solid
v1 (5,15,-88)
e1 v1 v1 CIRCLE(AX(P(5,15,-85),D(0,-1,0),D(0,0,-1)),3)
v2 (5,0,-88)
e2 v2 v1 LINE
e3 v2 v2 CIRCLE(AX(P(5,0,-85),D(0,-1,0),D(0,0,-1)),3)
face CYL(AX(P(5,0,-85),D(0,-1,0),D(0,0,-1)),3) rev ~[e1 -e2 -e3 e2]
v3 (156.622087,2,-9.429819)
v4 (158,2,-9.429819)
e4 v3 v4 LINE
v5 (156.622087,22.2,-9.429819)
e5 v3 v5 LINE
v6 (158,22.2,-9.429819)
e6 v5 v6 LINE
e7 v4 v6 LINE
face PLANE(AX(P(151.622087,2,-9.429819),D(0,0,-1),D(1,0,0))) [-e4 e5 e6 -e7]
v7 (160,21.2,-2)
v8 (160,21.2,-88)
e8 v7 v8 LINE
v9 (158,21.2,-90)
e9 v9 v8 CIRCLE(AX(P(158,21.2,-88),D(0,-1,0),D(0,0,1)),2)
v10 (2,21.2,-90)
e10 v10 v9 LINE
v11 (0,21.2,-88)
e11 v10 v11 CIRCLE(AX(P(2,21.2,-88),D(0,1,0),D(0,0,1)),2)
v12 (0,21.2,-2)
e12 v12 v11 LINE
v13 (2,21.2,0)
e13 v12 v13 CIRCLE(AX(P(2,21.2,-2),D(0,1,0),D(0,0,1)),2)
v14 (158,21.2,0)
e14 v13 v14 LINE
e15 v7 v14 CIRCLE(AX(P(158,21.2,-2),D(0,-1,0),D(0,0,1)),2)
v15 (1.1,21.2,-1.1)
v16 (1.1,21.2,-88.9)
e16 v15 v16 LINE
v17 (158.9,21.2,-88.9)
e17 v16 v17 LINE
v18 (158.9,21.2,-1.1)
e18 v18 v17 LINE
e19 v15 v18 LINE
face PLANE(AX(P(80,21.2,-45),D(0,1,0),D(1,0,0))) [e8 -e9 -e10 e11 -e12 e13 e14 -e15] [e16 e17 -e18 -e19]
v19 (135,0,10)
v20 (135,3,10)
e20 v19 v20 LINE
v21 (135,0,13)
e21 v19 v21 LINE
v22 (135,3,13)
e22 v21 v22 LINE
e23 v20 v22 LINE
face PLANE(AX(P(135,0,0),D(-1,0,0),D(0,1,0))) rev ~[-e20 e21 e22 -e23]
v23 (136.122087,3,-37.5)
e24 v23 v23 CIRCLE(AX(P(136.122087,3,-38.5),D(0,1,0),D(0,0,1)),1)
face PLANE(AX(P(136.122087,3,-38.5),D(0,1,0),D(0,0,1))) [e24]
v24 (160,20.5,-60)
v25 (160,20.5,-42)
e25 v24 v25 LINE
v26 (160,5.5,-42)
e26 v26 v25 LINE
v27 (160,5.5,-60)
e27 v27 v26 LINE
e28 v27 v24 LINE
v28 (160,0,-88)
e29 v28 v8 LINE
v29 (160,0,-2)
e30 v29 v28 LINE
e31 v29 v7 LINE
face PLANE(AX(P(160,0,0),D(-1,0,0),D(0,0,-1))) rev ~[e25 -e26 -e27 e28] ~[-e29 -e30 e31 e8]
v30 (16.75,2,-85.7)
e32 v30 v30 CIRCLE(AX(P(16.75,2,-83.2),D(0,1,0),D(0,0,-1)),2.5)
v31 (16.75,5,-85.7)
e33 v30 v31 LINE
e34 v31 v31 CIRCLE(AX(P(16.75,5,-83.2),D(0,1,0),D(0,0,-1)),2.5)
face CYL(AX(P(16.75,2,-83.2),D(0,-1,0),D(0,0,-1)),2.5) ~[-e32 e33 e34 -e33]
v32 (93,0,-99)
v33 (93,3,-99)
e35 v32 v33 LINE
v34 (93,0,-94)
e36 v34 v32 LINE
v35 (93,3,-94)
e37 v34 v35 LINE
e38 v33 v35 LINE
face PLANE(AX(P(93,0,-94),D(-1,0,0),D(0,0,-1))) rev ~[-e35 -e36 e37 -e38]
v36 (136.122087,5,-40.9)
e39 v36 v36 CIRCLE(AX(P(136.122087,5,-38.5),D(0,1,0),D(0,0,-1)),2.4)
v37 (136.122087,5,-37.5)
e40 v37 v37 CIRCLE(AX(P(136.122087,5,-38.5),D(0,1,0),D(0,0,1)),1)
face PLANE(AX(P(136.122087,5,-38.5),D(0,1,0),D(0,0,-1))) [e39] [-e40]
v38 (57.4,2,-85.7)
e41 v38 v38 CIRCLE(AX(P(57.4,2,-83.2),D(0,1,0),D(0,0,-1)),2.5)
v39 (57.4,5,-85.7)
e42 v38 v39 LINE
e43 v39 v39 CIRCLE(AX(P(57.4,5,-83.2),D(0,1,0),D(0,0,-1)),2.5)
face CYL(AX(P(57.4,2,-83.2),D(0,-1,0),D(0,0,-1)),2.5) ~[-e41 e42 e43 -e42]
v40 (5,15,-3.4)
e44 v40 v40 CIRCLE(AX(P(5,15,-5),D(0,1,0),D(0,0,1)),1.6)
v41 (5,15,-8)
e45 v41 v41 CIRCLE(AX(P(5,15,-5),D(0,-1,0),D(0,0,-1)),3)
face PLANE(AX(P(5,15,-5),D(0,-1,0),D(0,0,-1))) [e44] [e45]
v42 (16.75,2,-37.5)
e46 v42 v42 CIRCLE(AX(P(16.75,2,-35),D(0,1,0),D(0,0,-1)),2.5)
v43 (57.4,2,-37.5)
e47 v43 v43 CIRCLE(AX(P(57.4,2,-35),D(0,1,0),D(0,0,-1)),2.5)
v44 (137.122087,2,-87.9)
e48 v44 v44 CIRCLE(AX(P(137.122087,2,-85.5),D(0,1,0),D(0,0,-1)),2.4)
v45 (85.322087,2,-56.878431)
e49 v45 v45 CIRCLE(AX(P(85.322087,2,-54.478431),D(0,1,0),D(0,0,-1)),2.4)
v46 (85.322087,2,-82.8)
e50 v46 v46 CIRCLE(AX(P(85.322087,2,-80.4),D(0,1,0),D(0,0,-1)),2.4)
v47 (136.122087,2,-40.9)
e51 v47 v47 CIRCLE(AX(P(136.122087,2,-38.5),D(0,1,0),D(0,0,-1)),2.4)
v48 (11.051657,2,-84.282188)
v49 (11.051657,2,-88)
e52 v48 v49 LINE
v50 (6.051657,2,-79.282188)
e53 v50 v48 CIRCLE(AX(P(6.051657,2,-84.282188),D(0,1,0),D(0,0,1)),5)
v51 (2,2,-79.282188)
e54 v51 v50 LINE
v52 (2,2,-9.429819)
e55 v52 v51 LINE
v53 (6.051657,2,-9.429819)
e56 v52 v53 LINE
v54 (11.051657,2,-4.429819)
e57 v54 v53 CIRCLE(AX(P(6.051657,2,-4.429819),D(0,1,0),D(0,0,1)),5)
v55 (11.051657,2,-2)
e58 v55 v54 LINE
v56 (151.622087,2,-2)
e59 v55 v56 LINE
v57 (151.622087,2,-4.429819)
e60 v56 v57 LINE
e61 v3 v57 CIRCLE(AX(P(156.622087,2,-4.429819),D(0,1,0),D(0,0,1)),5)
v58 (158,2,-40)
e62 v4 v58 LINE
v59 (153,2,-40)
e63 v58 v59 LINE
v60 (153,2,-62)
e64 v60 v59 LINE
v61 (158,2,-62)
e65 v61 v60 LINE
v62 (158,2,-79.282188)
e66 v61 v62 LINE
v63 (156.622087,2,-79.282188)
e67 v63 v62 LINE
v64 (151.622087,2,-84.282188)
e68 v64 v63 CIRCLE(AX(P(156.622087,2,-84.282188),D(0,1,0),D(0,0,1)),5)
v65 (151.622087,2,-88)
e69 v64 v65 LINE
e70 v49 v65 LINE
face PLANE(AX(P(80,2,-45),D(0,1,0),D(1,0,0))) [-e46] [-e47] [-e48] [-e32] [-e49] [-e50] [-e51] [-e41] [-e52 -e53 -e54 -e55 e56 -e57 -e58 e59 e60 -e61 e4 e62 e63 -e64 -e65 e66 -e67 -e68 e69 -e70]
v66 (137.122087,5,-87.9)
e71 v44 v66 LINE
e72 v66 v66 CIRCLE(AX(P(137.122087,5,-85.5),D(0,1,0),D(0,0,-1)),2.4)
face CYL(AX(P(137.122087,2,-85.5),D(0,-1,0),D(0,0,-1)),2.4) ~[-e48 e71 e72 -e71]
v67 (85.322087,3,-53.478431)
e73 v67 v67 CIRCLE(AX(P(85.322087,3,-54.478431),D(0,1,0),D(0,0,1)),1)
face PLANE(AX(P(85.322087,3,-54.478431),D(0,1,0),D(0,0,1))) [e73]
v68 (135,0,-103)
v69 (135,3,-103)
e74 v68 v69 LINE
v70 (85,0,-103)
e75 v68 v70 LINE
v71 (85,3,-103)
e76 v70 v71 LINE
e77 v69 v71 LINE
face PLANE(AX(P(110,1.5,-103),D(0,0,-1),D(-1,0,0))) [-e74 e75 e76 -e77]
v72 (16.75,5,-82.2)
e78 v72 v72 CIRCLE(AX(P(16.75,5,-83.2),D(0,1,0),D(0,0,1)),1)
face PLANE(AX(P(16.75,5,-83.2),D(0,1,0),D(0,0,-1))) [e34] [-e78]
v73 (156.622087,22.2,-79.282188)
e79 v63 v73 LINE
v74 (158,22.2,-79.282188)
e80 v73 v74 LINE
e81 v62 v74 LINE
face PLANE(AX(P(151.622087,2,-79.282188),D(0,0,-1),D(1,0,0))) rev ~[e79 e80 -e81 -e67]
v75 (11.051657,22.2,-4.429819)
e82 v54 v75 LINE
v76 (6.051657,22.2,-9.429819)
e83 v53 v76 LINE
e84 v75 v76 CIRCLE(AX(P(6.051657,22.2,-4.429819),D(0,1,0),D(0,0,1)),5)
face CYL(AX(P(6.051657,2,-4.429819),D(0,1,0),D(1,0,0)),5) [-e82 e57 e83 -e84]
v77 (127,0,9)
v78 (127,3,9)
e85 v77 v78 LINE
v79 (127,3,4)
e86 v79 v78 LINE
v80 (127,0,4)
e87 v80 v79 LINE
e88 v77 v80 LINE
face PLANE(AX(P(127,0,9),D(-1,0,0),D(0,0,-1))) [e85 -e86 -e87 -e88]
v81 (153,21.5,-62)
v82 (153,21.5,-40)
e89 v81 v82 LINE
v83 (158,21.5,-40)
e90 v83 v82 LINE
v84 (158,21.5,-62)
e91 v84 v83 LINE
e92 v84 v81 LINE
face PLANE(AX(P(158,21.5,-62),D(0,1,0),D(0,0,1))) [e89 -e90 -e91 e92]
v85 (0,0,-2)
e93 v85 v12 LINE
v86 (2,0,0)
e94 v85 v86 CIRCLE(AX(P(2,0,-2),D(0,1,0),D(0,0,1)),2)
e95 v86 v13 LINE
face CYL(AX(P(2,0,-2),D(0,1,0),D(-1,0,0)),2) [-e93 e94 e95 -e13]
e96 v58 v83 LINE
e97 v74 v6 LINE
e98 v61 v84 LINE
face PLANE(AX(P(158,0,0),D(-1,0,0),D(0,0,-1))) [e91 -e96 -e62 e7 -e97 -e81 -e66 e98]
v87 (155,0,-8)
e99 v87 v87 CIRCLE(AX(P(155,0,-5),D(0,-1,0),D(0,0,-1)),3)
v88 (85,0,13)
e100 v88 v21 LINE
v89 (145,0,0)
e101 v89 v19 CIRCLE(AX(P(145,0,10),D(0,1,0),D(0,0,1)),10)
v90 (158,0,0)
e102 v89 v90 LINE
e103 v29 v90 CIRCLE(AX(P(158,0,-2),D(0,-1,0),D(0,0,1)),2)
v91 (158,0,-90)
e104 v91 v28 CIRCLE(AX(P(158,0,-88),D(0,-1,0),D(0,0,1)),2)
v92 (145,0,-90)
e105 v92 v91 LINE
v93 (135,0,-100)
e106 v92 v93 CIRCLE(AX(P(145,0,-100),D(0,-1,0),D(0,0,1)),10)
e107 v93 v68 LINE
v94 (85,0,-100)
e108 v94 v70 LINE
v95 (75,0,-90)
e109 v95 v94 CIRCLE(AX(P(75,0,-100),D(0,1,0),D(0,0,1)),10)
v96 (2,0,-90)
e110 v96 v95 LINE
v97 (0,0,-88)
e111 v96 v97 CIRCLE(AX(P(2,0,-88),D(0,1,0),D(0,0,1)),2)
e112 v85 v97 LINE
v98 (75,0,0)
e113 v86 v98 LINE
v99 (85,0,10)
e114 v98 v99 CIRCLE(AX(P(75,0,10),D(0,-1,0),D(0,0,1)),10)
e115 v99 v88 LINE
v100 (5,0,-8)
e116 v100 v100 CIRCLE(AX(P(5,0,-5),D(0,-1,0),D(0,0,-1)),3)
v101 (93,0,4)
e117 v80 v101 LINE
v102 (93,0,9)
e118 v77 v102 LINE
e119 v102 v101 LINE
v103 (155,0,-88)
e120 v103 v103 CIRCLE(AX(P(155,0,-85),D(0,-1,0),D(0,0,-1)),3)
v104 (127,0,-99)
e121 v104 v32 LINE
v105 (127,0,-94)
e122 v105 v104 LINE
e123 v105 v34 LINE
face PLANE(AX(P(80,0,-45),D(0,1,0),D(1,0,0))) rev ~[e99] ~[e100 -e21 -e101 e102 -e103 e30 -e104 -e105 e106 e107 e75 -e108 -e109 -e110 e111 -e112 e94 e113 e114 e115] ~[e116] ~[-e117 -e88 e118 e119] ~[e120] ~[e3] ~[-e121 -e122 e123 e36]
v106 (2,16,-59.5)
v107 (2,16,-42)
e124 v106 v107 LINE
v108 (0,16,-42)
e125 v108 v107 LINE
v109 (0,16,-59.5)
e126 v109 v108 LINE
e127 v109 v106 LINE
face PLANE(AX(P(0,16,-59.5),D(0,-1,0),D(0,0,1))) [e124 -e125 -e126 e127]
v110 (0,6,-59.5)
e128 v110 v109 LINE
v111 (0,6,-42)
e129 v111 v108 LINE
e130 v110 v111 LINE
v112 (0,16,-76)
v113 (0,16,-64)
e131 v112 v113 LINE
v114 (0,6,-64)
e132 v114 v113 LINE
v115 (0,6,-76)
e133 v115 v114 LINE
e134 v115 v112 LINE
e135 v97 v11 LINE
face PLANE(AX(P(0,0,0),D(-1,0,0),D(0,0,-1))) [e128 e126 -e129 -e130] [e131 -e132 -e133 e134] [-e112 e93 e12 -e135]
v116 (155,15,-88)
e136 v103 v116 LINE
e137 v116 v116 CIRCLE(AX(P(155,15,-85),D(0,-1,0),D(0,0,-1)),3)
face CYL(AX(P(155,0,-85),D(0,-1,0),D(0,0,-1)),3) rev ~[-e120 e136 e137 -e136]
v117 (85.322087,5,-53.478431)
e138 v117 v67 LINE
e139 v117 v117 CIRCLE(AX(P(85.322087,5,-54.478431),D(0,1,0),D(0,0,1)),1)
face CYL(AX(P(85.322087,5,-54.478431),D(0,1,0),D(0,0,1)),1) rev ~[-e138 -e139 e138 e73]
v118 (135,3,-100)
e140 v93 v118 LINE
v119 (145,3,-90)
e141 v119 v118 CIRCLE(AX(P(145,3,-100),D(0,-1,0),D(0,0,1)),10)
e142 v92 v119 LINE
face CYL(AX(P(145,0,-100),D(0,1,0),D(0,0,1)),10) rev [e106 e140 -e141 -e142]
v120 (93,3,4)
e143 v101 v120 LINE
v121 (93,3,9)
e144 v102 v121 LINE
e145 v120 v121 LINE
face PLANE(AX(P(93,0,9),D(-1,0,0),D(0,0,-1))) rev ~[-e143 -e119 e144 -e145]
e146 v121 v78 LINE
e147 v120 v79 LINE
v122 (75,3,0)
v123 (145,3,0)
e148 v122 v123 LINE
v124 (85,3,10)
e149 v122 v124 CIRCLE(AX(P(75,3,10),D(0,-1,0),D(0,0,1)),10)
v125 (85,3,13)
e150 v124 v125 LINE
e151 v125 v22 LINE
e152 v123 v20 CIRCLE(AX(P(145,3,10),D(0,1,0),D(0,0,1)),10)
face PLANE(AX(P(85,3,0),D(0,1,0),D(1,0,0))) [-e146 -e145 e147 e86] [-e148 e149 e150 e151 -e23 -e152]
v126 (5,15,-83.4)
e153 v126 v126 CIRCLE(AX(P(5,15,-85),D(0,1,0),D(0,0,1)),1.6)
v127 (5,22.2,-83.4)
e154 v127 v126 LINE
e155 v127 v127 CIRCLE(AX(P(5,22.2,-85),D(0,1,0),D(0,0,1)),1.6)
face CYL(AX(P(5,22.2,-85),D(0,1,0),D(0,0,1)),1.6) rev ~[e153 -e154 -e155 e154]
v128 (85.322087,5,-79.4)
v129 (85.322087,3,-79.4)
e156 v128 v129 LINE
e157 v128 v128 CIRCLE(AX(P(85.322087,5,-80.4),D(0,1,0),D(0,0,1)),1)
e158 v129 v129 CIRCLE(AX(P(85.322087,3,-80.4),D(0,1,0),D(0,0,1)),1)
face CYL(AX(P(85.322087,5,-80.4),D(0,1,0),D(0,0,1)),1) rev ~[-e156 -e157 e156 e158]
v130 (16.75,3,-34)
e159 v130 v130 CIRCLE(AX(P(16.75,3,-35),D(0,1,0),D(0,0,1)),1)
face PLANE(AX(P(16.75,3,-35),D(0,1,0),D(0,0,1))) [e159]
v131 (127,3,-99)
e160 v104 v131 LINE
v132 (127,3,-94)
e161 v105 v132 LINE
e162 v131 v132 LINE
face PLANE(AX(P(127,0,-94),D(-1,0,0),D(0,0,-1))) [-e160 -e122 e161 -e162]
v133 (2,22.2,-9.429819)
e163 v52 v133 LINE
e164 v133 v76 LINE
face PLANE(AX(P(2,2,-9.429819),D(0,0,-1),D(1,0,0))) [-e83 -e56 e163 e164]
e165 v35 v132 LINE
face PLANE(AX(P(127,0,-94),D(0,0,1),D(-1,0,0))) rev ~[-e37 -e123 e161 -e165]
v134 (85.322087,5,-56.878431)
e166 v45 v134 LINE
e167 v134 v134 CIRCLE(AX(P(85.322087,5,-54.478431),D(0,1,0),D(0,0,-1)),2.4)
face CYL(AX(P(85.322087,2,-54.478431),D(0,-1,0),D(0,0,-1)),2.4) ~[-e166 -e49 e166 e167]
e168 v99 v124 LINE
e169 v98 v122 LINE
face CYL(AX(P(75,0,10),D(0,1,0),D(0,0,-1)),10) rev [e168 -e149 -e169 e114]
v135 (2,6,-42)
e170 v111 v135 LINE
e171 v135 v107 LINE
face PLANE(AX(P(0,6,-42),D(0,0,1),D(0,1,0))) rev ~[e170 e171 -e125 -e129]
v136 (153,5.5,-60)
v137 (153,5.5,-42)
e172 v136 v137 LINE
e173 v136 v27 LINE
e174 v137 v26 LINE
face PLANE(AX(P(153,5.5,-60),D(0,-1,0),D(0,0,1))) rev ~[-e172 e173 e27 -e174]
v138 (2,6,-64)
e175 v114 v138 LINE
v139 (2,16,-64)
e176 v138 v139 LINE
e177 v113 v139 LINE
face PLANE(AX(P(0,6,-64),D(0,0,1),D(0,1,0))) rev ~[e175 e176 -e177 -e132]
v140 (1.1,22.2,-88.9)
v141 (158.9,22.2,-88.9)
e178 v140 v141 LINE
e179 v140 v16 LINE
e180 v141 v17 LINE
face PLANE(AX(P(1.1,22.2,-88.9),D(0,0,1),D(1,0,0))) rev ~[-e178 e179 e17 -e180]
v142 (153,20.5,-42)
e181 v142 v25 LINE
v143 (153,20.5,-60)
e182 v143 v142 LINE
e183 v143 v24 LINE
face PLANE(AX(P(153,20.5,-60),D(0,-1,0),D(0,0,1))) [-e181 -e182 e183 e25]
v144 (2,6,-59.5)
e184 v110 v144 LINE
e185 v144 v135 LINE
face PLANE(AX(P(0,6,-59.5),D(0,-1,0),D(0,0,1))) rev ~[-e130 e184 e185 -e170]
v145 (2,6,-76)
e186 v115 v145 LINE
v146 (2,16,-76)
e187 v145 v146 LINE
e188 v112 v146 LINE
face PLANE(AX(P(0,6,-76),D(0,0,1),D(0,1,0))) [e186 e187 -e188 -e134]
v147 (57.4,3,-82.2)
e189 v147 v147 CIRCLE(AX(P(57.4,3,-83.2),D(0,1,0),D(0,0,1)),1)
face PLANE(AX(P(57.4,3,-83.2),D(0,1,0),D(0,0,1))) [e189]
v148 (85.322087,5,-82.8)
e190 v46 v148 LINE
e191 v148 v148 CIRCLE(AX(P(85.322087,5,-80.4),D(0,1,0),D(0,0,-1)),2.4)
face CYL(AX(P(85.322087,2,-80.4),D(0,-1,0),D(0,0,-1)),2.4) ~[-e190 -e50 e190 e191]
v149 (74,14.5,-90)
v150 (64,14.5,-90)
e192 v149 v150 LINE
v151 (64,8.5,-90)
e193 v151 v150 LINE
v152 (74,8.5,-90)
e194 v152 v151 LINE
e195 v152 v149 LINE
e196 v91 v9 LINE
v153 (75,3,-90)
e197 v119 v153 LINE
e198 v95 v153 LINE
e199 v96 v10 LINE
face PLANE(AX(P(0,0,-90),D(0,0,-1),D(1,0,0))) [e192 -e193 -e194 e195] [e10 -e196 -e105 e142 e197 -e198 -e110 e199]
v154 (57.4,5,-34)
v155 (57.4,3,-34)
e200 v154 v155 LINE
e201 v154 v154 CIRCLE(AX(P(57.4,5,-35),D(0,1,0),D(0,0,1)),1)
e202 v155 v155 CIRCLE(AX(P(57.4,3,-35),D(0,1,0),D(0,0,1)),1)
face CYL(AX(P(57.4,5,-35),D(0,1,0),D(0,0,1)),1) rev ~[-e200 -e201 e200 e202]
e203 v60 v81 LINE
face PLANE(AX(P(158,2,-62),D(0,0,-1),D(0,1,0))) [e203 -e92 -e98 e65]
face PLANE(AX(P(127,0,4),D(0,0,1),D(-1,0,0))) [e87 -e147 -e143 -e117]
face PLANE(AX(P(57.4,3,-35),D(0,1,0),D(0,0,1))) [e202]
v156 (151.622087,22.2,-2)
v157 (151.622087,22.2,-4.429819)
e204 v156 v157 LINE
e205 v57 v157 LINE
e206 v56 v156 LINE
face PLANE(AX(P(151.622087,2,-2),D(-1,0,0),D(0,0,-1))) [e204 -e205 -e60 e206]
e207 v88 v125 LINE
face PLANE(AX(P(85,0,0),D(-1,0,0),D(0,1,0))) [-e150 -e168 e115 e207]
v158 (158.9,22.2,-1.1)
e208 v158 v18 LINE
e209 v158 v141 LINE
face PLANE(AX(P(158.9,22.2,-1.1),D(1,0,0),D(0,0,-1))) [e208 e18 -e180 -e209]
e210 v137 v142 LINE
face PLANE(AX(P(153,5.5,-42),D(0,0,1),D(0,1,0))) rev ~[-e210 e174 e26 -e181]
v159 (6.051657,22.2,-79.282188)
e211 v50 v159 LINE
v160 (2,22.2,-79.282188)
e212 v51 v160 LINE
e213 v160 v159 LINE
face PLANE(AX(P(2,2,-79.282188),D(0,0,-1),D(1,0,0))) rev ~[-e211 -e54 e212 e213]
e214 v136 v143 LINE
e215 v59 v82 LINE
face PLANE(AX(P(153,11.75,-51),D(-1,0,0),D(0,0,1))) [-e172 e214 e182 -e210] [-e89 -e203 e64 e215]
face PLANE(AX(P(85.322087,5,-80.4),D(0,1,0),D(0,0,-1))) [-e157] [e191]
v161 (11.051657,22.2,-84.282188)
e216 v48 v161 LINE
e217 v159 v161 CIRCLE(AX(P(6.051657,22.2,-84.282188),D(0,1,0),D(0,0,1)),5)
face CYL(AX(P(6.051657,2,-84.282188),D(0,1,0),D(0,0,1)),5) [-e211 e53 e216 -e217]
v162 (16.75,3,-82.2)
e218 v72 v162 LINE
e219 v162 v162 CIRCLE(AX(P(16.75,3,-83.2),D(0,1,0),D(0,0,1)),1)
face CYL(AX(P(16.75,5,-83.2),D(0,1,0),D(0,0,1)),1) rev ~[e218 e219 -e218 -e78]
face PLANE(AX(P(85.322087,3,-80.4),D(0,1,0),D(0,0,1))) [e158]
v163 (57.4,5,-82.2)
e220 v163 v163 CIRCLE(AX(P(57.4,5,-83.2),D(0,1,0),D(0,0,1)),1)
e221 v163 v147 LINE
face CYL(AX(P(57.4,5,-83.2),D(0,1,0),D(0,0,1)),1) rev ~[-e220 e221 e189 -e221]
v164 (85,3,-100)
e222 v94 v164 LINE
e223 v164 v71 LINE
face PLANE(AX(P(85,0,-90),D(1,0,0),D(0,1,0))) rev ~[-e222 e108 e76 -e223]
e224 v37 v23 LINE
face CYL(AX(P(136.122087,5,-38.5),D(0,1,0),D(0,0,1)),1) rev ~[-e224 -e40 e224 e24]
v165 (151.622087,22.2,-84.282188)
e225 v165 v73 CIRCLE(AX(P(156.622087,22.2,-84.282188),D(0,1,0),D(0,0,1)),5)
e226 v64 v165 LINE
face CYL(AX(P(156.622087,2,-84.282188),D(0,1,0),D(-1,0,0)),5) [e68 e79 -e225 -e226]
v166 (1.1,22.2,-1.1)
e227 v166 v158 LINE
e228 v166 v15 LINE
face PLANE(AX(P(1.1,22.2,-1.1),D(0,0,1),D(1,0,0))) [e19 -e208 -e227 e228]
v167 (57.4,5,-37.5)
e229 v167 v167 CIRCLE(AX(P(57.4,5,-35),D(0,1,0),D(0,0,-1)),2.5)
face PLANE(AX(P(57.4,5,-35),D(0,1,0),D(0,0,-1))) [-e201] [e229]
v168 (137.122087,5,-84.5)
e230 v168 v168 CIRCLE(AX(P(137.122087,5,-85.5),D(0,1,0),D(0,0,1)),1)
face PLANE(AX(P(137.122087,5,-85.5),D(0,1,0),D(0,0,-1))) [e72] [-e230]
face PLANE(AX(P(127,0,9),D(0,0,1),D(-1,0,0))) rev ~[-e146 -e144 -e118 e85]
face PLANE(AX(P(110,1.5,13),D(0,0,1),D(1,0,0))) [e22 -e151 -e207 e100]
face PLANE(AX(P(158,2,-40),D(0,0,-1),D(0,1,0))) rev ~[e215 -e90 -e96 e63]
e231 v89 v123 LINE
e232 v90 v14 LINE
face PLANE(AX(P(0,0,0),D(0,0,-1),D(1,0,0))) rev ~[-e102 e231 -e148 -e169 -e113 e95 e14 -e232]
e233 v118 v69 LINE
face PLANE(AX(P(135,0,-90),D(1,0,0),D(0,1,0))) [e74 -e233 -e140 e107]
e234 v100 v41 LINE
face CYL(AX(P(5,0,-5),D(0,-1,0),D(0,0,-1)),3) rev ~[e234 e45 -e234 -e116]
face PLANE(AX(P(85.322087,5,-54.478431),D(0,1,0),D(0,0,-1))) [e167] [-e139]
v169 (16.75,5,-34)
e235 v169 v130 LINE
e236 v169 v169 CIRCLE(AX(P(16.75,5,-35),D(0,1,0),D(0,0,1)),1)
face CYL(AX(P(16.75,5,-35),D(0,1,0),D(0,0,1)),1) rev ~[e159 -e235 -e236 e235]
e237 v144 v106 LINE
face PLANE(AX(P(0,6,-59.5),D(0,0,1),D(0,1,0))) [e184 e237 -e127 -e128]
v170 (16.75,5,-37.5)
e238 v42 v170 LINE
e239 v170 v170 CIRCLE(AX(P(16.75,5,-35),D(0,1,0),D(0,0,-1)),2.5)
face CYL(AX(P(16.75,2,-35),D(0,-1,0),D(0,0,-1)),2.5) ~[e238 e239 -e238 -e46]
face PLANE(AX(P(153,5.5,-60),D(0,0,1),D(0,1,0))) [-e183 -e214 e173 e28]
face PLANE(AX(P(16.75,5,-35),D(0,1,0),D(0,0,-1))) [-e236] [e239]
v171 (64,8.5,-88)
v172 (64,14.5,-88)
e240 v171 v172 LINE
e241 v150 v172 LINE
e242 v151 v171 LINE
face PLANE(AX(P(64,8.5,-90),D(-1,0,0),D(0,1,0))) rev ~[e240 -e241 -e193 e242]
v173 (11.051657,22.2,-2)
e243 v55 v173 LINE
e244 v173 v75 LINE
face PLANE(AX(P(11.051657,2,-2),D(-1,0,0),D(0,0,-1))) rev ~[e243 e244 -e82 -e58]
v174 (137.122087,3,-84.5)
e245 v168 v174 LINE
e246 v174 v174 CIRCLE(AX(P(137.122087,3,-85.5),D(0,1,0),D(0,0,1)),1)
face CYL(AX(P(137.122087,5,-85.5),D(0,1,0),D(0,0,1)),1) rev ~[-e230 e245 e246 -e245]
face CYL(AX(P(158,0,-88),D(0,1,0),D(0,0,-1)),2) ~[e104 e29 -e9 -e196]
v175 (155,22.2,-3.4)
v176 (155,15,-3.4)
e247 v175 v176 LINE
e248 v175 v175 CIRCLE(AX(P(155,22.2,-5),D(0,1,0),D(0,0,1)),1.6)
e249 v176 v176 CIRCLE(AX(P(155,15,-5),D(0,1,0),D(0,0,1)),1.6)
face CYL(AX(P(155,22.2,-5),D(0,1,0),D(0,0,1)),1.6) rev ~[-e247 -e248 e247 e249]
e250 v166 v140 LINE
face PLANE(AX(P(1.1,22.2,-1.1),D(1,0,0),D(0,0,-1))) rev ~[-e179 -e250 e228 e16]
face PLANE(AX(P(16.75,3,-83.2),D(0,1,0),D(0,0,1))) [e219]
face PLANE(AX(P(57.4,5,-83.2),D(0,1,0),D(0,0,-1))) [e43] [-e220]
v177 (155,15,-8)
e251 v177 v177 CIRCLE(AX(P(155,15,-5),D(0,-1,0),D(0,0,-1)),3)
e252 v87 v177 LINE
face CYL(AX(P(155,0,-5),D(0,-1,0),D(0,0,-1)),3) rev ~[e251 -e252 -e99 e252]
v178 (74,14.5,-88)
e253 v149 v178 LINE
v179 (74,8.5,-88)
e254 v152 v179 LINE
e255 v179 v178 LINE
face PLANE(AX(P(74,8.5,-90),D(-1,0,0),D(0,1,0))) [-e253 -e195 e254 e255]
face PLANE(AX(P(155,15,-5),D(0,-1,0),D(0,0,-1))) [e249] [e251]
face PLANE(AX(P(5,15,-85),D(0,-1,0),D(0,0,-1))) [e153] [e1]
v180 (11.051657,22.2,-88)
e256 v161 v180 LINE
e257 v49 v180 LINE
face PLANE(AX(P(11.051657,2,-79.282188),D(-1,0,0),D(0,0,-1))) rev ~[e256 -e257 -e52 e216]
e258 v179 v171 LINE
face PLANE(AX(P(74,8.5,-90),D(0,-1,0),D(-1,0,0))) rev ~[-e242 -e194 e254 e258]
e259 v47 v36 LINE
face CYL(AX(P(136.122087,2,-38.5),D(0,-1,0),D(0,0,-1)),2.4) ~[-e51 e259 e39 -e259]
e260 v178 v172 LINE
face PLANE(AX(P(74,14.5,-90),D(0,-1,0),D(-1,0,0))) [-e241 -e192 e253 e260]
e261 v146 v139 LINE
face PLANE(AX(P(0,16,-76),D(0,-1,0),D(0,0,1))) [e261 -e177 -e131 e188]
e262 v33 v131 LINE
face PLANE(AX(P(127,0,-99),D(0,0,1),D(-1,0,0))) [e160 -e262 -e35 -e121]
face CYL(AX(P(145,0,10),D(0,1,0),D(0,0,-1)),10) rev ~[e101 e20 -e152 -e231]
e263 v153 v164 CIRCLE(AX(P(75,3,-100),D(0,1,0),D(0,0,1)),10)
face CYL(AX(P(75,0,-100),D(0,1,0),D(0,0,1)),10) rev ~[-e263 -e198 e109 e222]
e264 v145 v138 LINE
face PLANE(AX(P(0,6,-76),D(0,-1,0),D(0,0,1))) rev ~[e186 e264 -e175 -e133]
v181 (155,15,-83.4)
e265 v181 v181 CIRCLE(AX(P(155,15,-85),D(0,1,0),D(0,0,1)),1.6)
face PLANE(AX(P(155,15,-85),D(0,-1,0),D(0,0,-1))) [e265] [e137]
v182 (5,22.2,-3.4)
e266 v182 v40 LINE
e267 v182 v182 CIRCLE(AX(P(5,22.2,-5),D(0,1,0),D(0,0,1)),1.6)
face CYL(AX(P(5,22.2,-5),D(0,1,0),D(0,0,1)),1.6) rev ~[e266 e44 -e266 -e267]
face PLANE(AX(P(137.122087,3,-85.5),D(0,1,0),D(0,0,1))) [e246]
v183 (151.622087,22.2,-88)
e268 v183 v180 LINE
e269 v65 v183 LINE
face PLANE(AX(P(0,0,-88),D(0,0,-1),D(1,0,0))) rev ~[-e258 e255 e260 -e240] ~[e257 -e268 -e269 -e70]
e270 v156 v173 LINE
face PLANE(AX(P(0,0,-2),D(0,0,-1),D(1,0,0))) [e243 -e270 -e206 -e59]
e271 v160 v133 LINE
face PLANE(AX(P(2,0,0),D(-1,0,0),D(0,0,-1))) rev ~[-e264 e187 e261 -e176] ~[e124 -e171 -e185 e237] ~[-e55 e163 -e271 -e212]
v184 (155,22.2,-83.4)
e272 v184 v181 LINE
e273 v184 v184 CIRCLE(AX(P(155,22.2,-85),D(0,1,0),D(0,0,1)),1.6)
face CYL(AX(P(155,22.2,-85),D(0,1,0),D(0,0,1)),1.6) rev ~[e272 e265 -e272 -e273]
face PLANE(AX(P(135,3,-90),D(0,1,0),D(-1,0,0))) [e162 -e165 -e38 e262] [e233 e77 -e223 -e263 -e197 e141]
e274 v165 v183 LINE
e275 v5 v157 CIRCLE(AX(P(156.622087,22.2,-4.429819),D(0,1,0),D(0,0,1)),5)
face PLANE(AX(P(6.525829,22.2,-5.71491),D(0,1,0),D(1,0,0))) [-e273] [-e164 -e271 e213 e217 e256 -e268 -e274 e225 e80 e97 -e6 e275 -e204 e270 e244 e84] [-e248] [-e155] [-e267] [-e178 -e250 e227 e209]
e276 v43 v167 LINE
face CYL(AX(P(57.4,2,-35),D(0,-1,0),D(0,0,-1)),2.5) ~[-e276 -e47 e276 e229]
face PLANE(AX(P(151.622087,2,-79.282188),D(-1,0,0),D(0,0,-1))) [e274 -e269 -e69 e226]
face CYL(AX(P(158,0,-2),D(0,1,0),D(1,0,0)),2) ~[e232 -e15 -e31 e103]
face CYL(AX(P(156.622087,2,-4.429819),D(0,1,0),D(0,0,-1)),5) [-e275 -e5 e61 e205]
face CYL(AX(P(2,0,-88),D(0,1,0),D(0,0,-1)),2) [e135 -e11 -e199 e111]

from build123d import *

# Parameters (mm, degrees)
SKETCH1_W           = 160
SKETCH1_H           = 90
BOSS_EXTRUDE1_DEPTH = 22.2
SHELL1_T            = -2
SKETCH2_W           = 9.051657133
SKETCH2_H           = 7.429819316
SKETCH2_W_2         = 6.377912523
SKETCH2_H_2         = 8.717812211
BOSS_EXTRUDE2_DEPTH = 20.2
SKETCH5_W           = 160
SKETCH5_H           = 90
SKETCH5_W_2         = 157.8
SKETCH5_H_2         = 87.8
CUT_EXTRUDE2_DEPTH  = 1
SKETCH6_R           = 1.6
CUT_EXTRUDE3_DEPTH  = 25
SKETCH13_R          = 3
CUT_EXTRUDE8_DEPTH  = 15
SKETCH14_W          = 50
SKETCH14_H          = 3
BOSS_EXTRUDE4_DEPTH = 13
SKETCH15_W          = 34
SKETCH15_H          = 5
CUT_EXTRUDE9_DEPTH  = 10
SKETCH16_W          = 50
SKETCH16_H          = 3
BOSS_EXTRUDE5_DEPTH = 13
SKETCH17_W          = 34
SKETCH17_H          = 5
CUT_EXTRUDE10_DEPTH = 10
SKETCH22_W          = 12
SKETCH22_H          = 10
SKETCH22_W_2        = 17.5
CUT_EXTRUDE15_DEPTH = 10
SKETCH23_W          = 10
SKETCH23_H          = 6
CUT_EXTRUDE16_DEPTH = 10
FILLET1_R           = 10
FILLET4_R           = 5
FILLET9_R           = 2
SKETCH26_R          = 2.5
SKETCH26_R_2        = 2.4
BOSS_EXTRUDE7_DEPTH = 3
SKETCH27_R          = 1
CUT_EXTRUDE17_DEPTH = 2
SKETCH28_W          = 22
SKETCH28_H          = 19.5
BOSS_EXTRUDE8_DEPTH = 5
SKETCH29_W          = 18
SKETCH29_H          = 15
CUT_EXTRUDE18_DEPTH = 17


with BuildPart() as part:
    # Sketch1 → Boss-Extrude1 (new body)
    with BuildSketch(Plane(origin=(0, 0, 0), x_dir=(1, 0, 0), z_dir=(0, 1, 0))):
        with Locations((80, 45)):
            Rectangle(SKETCH1_W, SKETCH1_H)
    extrude(amount=BOSS_EXTRUDE1_DEPTH)

    # Shell1
    shell1_openings = [part.faces().sort_by_distance(p)[0] for p in [
        (80, 22.2, -45),
    ]]
    offset(amount=SHELL1_T, openings=shell1_openings, kind=Kind.INTERSECTION)

    # Sketch2 → Boss-Extrude2 (add)
    with BuildSketch(Plane(origin=(0, 2, 0), x_dir=(1, 0, 0), z_dir=(0, 1, 0))):
        with Locations((6.525828567, 5.714909658)):
            Rectangle(SKETCH2_W, SKETCH2_H)
        with Locations((154.811043739, 83.641093895)):
            Rectangle(SKETCH2_W_2, SKETCH2_H_2)
        with Locations((154.811043739, 5.714909658)):
            Rectangle(SKETCH2_W_2, SKETCH2_H)
        with Locations((6.525828567, 83.641093895)):
            Rectangle(SKETCH2_W, SKETCH2_H_2)
    extrude(amount=BOSS_EXTRUDE2_DEPTH)

    # Sketch5 → Cut-Extrude2 (cut)
    with BuildSketch(Plane(origin=(0, 22.2, 0), x_dir=(1, 0, 0), z_dir=(0, 1, 0))):
        with Locations((80, 45)):
            Rectangle(SKETCH5_W, SKETCH5_H)
        with Locations((80, 45)):
            Rectangle(SKETCH5_W_2, SKETCH5_H_2, mode=Mode.SUBTRACT)
    extrude(amount=-CUT_EXTRUDE2_DEPTH, mode=Mode.SUBTRACT)

    # Sketch6 → Cut-Extrude3 (cut)
    with BuildSketch(Plane(origin=(0, 22.2, 0), x_dir=(1, 0, 0), z_dir=(0, 1, 0))):
        with Locations(Location((155, 85, 0), (0, 0, 270))):
            Circle(SKETCH6_R)
        with Locations(Location((155, 5, 0), (0, 0, 270))):
            Circle(SKETCH6_R)
        with Locations(Location((5, 85, 0), (0, 0, 270))):
            Circle(SKETCH6_R)
        with Locations(Location((5, 5, 0), (0, 0, 270))):
            Circle(SKETCH6_R)
    extrude(amount=-CUT_EXTRUDE3_DEPTH, mode=Mode.SUBTRACT)

    # Sketch13 → Cut-Extrude8 (cut)
    with BuildSketch(Plane.XZ):
        with Locations(Location((155, -5, 0), (0, 0, 270))):
            Circle(SKETCH13_R)
        with Locations(Location((155, -85, 0), (0, 0, 270))):
            Circle(SKETCH13_R)
        with Locations(Location((5, -5, 0), (0, 0, 270))):
            Circle(SKETCH13_R)
        with Locations(Location((5, -85, 0), (0, 0, 270))):
            Circle(SKETCH13_R)
    extrude(amount=-CUT_EXTRUDE8_DEPTH, mode=Mode.SUBTRACT)

    # Sketch14 → Boss-Extrude4 (add)
    with BuildSketch(Plane.XY):
        with Locations((110, 1.5)):
            Rectangle(SKETCH14_W, SKETCH14_H)
    extrude(amount=BOSS_EXTRUDE4_DEPTH)

    # Sketch15 → Cut-Extrude9 (cut)
    with BuildSketch(Plane(origin=(0, 0, 0), x_dir=(-1, 0, 0), z_dir=(0, -1, 0))):
        with Locations((-110, -6.5)):
            Rectangle(SKETCH15_W, SKETCH15_H)
    extrude(amount=-CUT_EXTRUDE9_DEPTH, mode=Mode.SUBTRACT)

    # Sketch16 → Boss-Extrude5 (add)
    with BuildSketch(Plane(origin=(0, 0, -90), x_dir=(-1, 0, 0), z_dir=(0, 0, -1))):
        with Locations((-110, 1.5)):
            Rectangle(SKETCH16_W, SKETCH16_H)
    extrude(amount=BOSS_EXTRUDE5_DEPTH)

    # Sketch17 → Cut-Extrude10 (cut)
    with BuildSketch(Plane(origin=(0, 0, 0), x_dir=(-1, 0, 0), z_dir=(0, -1, 0))):
        with Locations((-110, 96.5)):
            Rectangle(SKETCH17_W, SKETCH17_H)
    extrude(amount=-CUT_EXTRUDE10_DEPTH, mode=Mode.SUBTRACT)

    # Sketch22 → Cut-Extrude15 (cut)
    with BuildSketch(Plane.ZY):
        with Locations((-70, 11)):
            Rectangle(SKETCH22_W, SKETCH22_H)
        with Locations((-50.75, 11)):
            Rectangle(SKETCH22_W_2, SKETCH22_H)
    extrude(amount=-CUT_EXTRUDE15_DEPTH, mode=Mode.SUBTRACT)

    # Sketch23 → Cut-Extrude16 (cut)
    with BuildSketch(Plane(origin=(0, 0, -90), x_dir=(-1, 0, 0), z_dir=(0, 0, -1))):
        with Locations((-69, 11.5)):
            Rectangle(SKETCH23_W, SKETCH23_H)
    extrude(amount=-CUT_EXTRUDE16_DEPTH, mode=Mode.SUBTRACT)

    # Fillet1
    fillet1_edges = [part.edges().sort_by_distance(p)[0] for p in [
        (135, 1.5, 0),
        (85, 1.5, 0),
        (135, 1.5, -90),
        (85, 1.5, -90),
    ]]
    fillet(fillet1_edges, radius=FILLET1_R)

    # Fillet4
    fillet4_edges = [part.edges().sort_by_distance(p)[0] for p in [
        (11.051657133, 12.1, -9.429819316),
        (151.622087477, 12.1, -79.282187789),
        (11.051657133, 12.1, -79.282187789),
        (151.622087477, 12.1, -9.429819316),
    ]]
    fillet(fillet4_edges, radius=FILLET4_R)

    # Fillet9
    fillet9_edges = [part.edges().sort_by_distance(p)[0] for p in [
        (0, 10.6, -90),
        (160, 10.6, -90),
        (160, 10.6, 0),
        (0, 10.6, 0),
    ]]
    fillet(fillet9_edges, radius=FILLET9_R)

    # Sketch26 → Boss-Extrude7 (add)
    with BuildSketch(Plane(origin=(0, 2, 0), x_dir=(1, 0, 0), z_dir=(0, 1, 0))):
        with Locations(Location((16.75, 83.2, 0), (0, 0, 90))):
            Circle(SKETCH26_R)
        with Locations(Location((16.75, 35, 0), (0, 0, 90))):
            Circle(SKETCH26_R)
        with Locations(Location((57.4, 35, 0), (0, 0, 90))):
            Circle(SKETCH26_R)
        with Locations(Location((57.4, 83.2, 0), (0, 0, 90))):
            Circle(SKETCH26_R)
        with Locations(Location((137.122087477, 85.5, 0), (0, 0, 90))):
            Circle(SKETCH26_R_2)
        with Locations(Location((136.122087477, 38.5, 0), (0, 0, 90))):
            Circle(SKETCH26_R_2)
        with Locations(Location((85.322087477, 54.478431373, 0), (0, 0, 90))):
            Circle(SKETCH26_R_2)
        with Locations(Location((85.322087477, 80.4, 0), (0, 0, 90))):
            Circle(SKETCH26_R_2)
    extrude(amount=BOSS_EXTRUDE7_DEPTH)

    # Sketch27 → Cut-Extrude17 (cut)
    with BuildSketch(Plane(origin=(0, 5, 0), x_dir=(1, 0, 0), z_dir=(0, 1, 0))):
        with Locations(Location((57.4, 83.2, 0), (0, 0, 270))):
            Circle(SKETCH27_R)
        with Locations(Location((57.4, 35, 0), (0, 0, 270))):
            Circle(SKETCH27_R)
        with Locations(Location((16.75, 35, 0), (0, 0, 270))):
            Circle(SKETCH27_R)
        with Locations(Location((16.75, 83.2, 0), (0, 0, 270))):
            Circle(SKETCH27_R)
        with Locations(Location((136.122087477, 38.5, 0), (0, 0, 270))):
            Circle(SKETCH27_R)
        with Locations(Location((137.122087477, 85.5, 0), (0, 0, 270))):
            Circle(SKETCH27_R)
        with Locations(Location((85.322087477, 80.4, 0), (0, 0, 270))):
            Circle(SKETCH27_R)
        with Locations(Location((85.322087477, 54.478431373, 0), (0, 0, 270))):
            Circle(SKETCH27_R)
    extrude(amount=-CUT_EXTRUDE17_DEPTH, mode=Mode.SUBTRACT)

    # Sketch28 → Boss-Extrude8 (add)
    with BuildSketch(Plane.ZY.offset(-158)):
        with Locations((-51, 11.75)):
            Rectangle(SKETCH28_W, SKETCH28_H)
    extrude(amount=BOSS_EXTRUDE8_DEPTH)

    # Sketch29 → Cut-Extrude18 (cut)
    with BuildSketch(Plane.ZY.offset(-153)):
        with Locations((-51, 13)):
            Rectangle(SKETCH29_W, SKETCH29_H)
    extrude(amount=-CUT_EXTRUDE18_DEPTH, mode=Mode.SUBTRACT)


solid = part.part
